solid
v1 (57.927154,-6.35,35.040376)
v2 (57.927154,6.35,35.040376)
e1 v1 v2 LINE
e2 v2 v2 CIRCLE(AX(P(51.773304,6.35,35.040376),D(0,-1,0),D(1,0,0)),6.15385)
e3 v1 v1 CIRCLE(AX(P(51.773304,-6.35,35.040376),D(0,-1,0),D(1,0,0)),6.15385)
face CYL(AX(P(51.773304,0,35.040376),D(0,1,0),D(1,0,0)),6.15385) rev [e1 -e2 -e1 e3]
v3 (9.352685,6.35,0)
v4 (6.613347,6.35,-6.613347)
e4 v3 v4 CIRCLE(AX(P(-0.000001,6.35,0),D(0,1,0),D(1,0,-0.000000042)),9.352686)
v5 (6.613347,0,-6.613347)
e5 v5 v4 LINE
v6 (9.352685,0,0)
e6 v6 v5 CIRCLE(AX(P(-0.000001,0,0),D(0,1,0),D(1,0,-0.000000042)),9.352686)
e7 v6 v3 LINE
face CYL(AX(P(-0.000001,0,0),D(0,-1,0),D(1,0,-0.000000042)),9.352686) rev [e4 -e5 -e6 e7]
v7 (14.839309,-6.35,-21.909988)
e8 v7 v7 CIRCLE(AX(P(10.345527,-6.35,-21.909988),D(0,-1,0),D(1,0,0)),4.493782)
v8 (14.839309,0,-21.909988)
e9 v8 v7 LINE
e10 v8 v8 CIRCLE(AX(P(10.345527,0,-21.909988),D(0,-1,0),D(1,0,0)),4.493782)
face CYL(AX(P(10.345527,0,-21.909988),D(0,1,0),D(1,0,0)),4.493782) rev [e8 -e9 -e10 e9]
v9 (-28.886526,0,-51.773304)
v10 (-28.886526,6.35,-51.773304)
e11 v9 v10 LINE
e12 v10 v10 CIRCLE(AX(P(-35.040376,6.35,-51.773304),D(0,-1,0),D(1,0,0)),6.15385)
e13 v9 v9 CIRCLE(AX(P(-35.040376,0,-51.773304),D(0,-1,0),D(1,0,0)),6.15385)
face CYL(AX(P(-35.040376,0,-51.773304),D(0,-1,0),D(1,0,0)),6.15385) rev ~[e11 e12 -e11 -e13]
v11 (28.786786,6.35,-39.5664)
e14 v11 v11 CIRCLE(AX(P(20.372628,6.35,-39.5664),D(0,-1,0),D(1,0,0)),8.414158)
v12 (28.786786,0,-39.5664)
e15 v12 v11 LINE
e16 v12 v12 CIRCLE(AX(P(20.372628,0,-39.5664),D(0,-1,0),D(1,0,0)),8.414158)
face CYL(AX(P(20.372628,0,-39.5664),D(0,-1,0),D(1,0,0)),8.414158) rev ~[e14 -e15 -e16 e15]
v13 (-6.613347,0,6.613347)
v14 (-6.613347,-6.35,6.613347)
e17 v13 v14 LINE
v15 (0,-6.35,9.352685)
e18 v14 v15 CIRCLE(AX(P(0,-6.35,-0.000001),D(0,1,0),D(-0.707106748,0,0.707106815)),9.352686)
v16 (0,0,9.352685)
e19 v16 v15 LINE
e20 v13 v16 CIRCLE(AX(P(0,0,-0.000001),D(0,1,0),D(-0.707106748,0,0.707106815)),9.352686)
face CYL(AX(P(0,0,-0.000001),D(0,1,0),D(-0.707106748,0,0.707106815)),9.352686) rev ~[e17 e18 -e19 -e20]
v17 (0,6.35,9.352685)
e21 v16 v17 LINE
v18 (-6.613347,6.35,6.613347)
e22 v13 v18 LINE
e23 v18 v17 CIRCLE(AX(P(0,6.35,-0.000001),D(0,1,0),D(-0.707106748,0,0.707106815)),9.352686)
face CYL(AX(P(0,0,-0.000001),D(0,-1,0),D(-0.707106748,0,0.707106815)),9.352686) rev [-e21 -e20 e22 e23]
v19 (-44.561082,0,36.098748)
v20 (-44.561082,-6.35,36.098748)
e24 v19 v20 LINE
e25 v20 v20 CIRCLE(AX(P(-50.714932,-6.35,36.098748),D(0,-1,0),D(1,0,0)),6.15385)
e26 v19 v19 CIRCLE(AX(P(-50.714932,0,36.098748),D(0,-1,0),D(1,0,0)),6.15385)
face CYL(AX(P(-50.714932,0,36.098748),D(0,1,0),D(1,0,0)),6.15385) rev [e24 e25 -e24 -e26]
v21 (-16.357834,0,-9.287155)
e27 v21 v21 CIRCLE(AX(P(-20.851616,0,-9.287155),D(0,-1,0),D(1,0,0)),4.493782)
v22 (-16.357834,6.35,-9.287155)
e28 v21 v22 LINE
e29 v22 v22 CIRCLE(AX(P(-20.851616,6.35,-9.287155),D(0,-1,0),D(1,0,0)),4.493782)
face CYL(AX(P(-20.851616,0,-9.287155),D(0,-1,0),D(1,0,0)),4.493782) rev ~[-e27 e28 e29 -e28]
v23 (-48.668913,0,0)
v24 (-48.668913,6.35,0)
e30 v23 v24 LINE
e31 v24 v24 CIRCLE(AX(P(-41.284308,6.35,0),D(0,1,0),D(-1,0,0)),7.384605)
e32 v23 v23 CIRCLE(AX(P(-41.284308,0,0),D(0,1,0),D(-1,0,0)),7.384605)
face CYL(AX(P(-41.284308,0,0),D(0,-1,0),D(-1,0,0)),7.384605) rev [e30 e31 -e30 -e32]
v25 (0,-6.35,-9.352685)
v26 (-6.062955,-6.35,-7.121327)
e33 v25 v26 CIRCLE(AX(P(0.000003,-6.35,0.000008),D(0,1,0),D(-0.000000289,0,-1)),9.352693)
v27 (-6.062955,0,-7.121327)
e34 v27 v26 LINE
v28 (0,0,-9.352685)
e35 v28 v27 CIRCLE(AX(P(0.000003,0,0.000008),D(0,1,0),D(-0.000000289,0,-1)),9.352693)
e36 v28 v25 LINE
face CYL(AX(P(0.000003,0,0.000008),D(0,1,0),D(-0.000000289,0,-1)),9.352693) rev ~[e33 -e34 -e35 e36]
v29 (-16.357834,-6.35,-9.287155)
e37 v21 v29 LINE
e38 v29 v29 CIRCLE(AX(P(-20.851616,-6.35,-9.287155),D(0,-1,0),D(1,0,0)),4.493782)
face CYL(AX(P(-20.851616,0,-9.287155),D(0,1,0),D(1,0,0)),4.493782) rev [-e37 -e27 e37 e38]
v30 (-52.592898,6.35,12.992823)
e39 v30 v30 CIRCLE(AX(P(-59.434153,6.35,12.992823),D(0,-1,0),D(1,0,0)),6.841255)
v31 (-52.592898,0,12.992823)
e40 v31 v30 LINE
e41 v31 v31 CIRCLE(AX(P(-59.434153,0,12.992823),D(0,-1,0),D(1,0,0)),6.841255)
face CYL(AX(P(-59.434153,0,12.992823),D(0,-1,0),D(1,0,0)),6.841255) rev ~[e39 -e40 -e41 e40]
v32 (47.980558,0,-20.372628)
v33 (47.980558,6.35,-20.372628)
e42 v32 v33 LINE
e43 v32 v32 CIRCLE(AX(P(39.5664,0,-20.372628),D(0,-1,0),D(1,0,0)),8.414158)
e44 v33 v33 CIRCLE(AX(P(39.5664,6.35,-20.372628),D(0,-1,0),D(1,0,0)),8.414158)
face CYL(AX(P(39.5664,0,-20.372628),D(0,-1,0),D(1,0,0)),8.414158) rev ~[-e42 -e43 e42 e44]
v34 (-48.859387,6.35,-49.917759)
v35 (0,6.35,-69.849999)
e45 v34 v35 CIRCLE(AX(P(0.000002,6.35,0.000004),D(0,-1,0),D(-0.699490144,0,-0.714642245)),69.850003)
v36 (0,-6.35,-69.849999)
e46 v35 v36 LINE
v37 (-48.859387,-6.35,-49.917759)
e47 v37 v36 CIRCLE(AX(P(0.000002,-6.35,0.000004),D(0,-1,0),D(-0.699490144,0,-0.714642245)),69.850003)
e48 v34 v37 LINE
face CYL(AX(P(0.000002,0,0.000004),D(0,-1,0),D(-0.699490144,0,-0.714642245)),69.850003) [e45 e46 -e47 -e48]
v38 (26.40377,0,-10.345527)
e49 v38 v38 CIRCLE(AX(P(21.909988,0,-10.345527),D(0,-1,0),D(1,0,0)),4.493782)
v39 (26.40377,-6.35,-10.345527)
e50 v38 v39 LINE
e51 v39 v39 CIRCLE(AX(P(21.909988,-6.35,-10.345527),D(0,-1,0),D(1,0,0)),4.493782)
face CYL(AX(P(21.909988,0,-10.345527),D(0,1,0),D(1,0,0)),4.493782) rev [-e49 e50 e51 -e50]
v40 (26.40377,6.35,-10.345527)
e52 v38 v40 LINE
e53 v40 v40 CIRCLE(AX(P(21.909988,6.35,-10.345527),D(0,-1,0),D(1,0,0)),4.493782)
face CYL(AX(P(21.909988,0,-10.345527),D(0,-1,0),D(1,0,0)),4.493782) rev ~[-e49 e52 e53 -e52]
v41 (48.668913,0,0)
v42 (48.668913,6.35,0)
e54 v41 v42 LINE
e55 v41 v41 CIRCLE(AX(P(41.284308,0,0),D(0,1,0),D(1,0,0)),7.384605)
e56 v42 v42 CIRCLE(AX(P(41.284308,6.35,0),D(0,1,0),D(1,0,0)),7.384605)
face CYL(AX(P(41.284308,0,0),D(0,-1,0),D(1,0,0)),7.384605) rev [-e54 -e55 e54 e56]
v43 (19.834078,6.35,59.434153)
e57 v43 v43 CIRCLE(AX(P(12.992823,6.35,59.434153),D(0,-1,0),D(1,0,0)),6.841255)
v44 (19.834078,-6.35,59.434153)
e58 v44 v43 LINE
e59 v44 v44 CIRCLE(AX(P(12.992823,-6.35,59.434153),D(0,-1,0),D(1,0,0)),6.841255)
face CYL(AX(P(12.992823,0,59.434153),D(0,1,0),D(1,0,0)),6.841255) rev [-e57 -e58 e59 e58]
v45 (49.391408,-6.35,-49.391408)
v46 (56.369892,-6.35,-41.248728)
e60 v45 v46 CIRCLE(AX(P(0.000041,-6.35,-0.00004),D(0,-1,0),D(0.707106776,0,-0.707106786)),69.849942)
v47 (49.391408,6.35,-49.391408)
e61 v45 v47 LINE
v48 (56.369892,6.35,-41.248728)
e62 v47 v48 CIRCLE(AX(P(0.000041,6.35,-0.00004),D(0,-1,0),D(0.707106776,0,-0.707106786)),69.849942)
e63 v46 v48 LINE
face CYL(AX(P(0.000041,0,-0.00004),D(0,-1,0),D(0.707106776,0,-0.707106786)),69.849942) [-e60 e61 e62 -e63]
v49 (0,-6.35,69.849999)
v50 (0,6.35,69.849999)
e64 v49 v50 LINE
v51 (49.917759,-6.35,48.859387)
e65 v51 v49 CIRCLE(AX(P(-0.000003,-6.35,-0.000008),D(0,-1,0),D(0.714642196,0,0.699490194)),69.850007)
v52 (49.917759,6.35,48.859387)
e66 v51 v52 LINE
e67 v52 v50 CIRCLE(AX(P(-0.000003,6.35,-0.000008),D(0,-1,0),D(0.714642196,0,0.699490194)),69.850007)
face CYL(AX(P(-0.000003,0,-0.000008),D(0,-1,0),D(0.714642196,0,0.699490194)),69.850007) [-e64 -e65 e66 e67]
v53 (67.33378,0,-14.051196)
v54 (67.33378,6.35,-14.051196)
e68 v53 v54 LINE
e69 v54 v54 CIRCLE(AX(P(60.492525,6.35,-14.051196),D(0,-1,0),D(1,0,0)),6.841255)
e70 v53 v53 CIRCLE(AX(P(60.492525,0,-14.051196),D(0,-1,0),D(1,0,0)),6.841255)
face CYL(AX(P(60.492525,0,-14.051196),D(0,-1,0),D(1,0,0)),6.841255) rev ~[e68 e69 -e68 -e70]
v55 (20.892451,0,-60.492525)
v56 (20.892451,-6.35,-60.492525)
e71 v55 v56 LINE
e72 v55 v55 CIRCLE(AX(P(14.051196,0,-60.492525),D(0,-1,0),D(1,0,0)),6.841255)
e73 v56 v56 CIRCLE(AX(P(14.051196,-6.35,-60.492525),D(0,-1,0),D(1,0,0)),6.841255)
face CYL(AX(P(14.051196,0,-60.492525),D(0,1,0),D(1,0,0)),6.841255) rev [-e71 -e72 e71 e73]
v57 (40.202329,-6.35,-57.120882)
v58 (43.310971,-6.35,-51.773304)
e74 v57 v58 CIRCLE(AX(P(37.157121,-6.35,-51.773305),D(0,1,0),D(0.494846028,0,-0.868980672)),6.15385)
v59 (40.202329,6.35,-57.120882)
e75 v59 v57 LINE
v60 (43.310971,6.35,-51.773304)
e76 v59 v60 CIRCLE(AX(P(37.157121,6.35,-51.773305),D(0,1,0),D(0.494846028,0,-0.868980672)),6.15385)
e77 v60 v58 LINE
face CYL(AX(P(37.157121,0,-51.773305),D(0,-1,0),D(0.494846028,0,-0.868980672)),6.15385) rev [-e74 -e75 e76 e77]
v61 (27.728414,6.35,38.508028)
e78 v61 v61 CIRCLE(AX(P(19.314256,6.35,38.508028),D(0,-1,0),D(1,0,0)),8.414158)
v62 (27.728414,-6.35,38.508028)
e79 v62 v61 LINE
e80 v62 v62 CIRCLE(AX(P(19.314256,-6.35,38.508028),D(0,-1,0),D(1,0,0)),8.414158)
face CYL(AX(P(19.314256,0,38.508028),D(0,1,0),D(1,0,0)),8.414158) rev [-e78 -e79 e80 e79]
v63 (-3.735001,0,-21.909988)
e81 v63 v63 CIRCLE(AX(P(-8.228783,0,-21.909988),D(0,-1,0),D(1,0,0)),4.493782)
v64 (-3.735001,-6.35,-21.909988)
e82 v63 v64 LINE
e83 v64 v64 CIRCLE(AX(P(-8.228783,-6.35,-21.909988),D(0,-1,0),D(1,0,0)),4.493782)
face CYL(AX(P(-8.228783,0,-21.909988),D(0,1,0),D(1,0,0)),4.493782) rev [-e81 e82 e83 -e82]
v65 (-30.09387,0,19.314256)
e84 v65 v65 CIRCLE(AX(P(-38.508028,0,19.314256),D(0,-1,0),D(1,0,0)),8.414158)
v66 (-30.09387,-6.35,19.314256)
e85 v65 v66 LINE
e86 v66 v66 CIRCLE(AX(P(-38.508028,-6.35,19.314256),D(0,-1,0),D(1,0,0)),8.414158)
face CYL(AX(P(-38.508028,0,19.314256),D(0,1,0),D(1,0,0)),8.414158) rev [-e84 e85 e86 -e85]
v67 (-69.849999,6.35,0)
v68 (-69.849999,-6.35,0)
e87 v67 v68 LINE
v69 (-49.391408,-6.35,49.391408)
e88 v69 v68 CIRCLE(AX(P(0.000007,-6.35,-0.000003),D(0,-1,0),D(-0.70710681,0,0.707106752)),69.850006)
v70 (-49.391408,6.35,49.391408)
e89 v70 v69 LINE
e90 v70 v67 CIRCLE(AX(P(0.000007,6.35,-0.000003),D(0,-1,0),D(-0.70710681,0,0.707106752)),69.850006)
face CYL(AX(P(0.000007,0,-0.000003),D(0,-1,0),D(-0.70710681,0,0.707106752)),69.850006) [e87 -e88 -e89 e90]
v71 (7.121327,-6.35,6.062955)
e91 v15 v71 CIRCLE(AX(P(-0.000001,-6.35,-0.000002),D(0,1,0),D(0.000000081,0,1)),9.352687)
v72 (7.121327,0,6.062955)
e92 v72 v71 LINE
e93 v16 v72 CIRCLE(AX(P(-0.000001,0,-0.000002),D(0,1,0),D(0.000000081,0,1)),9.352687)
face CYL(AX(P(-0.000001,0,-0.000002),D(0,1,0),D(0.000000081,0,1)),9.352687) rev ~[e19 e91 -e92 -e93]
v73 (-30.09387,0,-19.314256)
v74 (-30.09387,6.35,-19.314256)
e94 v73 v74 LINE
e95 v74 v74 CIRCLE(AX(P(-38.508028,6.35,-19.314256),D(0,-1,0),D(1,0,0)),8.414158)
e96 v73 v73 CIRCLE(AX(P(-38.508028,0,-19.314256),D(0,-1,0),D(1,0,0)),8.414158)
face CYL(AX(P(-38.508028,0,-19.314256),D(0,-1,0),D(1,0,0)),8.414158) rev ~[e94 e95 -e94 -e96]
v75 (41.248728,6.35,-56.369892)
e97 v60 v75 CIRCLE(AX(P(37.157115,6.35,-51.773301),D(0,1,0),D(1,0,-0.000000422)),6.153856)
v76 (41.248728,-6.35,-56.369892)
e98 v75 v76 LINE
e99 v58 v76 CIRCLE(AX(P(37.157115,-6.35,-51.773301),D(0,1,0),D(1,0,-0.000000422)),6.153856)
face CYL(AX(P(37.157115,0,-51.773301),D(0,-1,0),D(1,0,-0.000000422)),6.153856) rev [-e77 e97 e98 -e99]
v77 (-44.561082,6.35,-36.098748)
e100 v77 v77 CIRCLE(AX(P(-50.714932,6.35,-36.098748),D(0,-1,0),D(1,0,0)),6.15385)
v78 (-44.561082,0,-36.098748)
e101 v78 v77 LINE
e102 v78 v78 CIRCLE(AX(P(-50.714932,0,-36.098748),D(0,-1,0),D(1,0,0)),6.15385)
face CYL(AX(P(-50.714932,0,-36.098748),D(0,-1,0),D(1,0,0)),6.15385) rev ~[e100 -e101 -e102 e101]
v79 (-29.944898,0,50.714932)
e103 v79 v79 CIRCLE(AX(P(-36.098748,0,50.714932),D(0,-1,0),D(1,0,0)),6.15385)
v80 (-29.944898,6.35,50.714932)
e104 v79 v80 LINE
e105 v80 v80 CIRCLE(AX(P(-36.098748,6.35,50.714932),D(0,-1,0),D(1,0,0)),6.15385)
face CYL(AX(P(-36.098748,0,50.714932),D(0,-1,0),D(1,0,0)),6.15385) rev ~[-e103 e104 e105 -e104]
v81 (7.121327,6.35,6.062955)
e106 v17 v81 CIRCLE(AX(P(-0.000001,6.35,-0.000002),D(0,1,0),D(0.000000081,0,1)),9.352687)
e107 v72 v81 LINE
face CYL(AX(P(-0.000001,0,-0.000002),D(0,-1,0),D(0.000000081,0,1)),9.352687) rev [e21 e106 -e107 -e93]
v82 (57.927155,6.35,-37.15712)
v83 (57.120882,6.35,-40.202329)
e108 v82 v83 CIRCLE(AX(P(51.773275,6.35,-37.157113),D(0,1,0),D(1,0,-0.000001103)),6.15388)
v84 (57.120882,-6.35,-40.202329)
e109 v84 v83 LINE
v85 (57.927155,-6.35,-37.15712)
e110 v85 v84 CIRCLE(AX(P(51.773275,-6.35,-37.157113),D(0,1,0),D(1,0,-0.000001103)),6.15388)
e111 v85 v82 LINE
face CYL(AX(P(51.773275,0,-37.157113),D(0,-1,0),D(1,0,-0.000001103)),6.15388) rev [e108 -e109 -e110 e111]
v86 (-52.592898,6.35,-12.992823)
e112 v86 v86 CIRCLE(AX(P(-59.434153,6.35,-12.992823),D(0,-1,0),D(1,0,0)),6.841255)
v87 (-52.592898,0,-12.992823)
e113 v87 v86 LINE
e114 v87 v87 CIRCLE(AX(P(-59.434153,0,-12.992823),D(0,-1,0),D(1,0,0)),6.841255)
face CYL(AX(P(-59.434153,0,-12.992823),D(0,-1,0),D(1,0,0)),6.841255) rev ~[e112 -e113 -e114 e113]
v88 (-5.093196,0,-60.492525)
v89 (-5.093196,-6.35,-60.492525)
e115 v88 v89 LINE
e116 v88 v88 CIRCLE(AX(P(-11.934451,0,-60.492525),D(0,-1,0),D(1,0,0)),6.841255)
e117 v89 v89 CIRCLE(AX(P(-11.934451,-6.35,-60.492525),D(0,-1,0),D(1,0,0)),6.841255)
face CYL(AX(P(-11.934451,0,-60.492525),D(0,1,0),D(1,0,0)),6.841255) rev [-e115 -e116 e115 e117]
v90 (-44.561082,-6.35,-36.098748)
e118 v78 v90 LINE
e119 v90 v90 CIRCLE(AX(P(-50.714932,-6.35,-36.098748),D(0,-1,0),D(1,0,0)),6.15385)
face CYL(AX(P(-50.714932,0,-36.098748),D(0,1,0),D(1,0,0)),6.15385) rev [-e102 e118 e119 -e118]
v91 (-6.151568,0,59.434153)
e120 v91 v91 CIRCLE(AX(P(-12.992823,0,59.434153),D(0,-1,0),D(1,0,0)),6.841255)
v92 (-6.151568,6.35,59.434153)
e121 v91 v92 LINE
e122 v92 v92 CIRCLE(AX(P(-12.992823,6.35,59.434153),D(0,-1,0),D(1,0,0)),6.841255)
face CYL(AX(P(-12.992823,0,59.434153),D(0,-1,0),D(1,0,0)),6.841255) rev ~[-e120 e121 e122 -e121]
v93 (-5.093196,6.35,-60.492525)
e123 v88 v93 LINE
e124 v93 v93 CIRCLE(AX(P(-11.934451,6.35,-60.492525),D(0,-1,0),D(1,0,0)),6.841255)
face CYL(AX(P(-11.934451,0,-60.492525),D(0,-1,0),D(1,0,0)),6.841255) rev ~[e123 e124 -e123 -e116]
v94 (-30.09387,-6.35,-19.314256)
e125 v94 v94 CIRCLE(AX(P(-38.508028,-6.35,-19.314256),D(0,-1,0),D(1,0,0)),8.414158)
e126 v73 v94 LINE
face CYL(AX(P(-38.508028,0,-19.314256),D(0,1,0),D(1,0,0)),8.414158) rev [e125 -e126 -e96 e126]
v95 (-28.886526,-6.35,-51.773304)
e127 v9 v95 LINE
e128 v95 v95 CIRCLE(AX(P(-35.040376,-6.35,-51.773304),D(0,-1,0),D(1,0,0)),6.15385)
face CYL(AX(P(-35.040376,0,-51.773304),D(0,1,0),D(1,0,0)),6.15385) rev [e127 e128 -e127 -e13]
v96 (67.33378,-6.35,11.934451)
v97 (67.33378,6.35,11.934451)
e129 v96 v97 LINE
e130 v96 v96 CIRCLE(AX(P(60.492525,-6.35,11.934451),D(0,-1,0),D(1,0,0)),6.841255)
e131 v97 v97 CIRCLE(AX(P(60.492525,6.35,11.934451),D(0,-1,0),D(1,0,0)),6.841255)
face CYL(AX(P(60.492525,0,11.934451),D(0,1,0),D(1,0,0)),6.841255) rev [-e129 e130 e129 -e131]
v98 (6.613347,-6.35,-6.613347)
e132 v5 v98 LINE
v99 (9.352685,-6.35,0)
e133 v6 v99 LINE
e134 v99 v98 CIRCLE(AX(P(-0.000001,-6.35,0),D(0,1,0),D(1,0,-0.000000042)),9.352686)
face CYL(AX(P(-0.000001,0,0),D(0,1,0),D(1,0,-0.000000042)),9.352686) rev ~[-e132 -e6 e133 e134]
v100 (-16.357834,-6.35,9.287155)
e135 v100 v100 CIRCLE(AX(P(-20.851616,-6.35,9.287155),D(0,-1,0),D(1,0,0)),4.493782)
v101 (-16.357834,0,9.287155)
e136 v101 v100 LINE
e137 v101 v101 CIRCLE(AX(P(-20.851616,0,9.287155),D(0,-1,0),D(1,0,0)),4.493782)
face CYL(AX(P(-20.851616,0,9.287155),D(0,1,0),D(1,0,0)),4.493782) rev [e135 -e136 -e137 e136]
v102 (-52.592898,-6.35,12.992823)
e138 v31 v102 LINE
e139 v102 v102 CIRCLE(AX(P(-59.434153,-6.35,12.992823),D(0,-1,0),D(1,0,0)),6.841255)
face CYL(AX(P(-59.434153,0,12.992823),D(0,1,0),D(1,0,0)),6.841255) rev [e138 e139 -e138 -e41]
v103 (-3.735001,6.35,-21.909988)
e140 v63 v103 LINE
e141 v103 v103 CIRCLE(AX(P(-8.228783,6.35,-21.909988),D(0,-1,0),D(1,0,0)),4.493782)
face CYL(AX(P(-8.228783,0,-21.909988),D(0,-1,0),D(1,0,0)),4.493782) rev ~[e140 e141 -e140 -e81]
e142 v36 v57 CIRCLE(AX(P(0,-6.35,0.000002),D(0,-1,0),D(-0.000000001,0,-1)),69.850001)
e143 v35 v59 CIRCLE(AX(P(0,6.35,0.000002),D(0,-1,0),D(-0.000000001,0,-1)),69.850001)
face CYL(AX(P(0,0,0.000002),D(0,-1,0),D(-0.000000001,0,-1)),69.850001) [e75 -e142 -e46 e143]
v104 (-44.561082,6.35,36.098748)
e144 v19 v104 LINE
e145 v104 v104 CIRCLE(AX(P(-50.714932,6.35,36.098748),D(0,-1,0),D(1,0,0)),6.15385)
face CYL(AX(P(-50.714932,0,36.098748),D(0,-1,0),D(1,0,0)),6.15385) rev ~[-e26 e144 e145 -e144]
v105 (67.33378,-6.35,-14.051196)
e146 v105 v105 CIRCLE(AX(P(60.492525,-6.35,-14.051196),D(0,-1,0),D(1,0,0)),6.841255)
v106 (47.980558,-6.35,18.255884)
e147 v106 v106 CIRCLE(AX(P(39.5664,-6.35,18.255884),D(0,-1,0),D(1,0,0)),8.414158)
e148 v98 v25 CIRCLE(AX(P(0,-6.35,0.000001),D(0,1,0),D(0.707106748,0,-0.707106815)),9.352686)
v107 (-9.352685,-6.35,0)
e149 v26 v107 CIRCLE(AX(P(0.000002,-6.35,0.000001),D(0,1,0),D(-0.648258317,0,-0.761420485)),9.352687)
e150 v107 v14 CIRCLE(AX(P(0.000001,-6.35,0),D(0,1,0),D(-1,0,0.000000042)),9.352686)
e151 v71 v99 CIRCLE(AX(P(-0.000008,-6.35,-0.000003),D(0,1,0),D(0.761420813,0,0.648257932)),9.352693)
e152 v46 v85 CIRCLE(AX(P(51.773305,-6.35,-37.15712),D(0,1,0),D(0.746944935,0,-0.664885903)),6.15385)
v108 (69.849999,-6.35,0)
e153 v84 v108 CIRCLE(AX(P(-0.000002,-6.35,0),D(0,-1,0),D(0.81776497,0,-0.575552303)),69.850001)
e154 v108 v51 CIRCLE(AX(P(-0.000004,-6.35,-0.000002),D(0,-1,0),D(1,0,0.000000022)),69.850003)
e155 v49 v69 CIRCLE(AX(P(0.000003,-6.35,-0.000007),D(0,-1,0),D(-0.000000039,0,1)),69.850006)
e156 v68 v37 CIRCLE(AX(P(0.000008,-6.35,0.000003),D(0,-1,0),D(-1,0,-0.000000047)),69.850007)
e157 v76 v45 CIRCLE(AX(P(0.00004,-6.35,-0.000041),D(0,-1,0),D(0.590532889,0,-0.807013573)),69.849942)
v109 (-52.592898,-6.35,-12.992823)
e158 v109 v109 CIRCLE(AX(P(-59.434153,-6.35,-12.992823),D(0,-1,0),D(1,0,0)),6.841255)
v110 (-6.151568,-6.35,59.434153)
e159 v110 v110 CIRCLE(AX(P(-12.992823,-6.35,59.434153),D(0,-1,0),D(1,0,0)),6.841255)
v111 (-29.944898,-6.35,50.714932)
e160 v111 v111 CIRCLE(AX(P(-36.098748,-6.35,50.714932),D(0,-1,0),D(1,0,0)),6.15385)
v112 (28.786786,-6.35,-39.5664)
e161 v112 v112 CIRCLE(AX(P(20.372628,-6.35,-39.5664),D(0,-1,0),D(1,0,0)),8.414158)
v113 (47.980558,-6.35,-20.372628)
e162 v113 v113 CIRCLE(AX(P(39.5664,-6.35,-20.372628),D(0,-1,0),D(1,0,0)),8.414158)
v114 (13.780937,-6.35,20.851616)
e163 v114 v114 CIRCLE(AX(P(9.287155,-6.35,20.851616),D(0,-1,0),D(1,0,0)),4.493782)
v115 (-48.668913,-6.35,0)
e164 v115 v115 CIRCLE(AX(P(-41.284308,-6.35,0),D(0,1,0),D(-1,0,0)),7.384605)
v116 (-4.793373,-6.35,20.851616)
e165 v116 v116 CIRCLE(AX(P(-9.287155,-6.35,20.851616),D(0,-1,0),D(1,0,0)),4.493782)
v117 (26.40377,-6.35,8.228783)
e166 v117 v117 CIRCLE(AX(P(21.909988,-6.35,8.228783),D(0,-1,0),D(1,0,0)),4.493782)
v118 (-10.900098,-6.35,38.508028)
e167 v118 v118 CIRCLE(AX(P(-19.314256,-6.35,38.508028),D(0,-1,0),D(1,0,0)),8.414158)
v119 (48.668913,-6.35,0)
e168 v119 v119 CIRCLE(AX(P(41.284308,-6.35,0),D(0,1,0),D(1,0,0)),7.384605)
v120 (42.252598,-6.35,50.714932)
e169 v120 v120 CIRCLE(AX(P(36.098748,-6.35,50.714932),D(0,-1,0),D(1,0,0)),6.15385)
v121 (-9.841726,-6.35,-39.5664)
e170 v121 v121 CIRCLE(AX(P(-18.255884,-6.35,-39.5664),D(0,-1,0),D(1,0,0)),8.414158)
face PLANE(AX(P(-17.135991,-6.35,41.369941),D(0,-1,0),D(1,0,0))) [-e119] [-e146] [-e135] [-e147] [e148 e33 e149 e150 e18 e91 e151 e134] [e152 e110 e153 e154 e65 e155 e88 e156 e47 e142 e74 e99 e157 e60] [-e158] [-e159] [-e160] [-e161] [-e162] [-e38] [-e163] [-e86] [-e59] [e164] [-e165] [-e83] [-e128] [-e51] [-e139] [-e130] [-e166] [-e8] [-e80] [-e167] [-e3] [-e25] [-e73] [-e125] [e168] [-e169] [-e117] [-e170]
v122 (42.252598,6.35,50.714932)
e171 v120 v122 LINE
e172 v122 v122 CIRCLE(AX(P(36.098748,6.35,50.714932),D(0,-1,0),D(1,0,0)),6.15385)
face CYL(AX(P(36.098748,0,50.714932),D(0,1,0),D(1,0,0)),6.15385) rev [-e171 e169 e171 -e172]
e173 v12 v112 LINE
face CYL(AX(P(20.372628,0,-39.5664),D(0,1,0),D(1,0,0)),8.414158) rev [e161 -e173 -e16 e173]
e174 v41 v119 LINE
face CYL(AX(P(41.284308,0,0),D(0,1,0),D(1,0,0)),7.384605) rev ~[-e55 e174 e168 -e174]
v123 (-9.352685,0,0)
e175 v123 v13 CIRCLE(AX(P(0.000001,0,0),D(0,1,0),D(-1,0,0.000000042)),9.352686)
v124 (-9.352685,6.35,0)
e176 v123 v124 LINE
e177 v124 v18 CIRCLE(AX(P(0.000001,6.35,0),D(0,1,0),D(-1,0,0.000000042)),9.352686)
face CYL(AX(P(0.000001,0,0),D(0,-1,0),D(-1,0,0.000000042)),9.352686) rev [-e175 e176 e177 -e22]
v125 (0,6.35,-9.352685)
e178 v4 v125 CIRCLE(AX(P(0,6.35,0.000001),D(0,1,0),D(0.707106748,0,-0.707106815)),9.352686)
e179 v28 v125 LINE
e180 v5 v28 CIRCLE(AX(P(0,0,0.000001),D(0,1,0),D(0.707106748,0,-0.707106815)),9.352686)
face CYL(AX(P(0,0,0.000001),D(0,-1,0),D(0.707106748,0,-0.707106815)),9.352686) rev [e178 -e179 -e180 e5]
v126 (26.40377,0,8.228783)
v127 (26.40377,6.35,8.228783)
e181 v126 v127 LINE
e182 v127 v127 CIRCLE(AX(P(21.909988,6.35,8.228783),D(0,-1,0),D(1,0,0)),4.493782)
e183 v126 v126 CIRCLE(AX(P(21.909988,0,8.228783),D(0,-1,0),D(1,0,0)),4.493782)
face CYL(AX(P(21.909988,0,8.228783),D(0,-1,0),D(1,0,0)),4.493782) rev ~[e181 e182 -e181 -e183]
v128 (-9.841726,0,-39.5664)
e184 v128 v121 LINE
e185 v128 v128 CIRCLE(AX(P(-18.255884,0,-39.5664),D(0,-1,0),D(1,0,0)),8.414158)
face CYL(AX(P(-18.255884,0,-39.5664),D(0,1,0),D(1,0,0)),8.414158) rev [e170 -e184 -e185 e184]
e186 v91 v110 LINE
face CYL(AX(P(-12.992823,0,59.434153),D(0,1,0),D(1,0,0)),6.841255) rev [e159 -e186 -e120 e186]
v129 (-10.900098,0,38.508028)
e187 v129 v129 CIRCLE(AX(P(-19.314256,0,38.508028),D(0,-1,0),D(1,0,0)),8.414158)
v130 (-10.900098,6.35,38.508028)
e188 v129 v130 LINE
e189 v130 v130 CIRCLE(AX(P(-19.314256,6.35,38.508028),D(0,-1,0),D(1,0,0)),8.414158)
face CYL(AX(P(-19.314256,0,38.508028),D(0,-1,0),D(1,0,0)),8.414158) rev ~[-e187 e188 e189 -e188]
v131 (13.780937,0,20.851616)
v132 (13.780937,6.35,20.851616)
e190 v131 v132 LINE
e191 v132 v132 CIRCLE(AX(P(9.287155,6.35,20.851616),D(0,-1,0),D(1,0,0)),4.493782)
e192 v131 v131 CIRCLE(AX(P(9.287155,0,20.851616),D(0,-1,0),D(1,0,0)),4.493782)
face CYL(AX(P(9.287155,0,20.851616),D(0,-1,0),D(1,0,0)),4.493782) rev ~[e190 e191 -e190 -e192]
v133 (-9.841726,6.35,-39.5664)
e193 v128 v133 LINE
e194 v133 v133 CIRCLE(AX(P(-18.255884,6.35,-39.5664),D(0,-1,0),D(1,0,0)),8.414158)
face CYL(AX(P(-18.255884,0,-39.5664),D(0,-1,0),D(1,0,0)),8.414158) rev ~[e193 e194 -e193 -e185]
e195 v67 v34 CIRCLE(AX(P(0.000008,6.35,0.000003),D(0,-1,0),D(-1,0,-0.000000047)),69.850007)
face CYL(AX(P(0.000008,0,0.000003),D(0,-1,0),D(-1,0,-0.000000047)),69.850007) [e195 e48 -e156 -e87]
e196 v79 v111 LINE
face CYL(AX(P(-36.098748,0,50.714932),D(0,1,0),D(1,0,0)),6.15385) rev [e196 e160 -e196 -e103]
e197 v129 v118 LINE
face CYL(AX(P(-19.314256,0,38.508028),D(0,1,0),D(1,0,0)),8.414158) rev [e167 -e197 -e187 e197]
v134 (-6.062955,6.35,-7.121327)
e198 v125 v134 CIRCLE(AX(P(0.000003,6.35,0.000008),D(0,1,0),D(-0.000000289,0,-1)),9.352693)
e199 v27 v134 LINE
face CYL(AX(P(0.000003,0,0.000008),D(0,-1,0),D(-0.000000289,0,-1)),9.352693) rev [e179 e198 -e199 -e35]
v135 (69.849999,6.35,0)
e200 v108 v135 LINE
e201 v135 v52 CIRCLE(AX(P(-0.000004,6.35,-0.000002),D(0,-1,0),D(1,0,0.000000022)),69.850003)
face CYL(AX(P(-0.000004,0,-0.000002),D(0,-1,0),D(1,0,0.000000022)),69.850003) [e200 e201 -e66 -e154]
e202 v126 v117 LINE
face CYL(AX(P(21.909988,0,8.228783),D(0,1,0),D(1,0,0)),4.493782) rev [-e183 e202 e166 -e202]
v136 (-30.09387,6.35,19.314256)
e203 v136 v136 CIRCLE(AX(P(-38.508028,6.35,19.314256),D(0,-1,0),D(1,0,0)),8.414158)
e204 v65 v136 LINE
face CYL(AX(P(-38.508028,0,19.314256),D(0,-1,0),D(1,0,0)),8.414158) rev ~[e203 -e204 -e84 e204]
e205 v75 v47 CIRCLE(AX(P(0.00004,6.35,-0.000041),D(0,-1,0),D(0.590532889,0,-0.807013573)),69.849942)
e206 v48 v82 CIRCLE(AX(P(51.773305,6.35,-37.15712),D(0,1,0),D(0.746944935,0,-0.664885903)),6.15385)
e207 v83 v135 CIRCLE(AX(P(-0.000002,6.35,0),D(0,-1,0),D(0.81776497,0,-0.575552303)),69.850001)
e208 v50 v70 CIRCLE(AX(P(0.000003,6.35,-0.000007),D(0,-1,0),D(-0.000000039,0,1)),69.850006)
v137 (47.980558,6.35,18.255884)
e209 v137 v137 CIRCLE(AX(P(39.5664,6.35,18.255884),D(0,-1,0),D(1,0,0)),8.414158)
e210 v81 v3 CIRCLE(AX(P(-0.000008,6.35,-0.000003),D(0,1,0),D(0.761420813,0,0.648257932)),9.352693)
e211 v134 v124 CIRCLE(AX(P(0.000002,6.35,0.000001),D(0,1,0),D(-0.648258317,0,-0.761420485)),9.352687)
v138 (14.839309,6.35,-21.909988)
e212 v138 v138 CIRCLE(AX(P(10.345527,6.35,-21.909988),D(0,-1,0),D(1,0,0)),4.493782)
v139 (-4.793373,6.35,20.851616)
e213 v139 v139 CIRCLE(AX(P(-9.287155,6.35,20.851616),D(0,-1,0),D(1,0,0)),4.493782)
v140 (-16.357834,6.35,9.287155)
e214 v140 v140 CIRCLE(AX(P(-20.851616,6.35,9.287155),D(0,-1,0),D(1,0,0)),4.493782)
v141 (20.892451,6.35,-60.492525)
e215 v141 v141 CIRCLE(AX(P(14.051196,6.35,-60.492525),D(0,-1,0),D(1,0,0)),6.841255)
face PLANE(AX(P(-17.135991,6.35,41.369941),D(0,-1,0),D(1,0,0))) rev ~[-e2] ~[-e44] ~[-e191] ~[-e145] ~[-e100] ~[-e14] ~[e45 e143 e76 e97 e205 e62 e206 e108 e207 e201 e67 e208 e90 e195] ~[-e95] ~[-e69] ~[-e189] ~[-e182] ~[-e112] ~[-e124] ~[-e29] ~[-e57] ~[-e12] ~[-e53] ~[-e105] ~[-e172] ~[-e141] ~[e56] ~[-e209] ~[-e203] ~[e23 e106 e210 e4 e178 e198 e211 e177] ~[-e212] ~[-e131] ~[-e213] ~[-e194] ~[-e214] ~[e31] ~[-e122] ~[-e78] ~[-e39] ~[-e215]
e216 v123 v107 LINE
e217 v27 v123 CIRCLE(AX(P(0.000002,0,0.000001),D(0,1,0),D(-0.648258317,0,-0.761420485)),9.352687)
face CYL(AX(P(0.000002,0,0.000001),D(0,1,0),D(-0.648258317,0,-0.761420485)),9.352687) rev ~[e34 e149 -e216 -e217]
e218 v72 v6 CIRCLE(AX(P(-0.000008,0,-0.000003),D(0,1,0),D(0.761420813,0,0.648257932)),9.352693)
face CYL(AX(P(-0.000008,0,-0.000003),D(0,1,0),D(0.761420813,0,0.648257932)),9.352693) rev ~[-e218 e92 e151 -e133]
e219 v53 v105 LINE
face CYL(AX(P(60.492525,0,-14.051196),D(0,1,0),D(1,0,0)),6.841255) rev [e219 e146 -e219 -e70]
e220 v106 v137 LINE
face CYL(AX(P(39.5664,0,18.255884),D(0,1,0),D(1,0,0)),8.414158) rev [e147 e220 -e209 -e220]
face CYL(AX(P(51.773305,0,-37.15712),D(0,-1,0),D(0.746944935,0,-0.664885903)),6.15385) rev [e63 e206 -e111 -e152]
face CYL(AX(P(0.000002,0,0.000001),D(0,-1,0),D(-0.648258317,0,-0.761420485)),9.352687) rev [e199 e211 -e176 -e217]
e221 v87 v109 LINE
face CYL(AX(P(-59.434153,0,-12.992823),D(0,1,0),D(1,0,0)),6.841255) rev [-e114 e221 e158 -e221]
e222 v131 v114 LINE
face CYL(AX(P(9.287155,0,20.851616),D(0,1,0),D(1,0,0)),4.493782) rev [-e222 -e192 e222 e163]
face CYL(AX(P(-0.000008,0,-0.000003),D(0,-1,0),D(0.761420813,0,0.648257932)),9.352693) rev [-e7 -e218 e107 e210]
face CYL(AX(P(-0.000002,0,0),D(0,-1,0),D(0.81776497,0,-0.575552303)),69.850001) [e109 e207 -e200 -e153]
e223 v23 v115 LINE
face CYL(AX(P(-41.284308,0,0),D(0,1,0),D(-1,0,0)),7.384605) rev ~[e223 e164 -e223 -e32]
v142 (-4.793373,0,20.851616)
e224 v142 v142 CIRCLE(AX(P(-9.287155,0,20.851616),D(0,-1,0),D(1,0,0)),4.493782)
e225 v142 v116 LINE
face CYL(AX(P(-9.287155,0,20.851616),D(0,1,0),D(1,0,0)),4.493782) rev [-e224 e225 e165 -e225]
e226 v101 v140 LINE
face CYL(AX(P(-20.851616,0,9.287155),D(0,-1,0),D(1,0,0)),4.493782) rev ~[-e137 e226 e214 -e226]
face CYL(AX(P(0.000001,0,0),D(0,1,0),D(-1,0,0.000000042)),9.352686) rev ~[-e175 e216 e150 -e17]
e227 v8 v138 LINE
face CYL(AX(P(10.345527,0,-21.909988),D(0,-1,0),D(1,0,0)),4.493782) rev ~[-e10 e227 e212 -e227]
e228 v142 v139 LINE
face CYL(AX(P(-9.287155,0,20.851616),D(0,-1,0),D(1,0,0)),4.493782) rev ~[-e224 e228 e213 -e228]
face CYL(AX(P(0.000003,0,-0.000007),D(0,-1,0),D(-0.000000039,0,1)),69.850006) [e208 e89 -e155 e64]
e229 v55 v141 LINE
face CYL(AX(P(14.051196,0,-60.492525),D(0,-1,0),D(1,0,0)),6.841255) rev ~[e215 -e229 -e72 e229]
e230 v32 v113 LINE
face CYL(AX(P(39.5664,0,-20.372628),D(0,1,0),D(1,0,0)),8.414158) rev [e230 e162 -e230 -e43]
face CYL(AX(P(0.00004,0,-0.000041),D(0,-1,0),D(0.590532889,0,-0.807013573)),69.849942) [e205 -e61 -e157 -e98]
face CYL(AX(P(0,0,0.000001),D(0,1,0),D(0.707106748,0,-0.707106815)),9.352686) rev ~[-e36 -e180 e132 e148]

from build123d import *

# Parameters (mm, degrees)
F0_R     = 4.493782
F0_R_2   = 8.414158
F0_R_3   = 6.15385
F0_R_4   = 6.841255
F1_DEPTH = 6.35


with BuildPart() as f1:
    # F0 (on Front) → F1 (new body, symmetric)
    with BuildSketch(Plane.XZ):
        with BuildLine():
            Line((0, 9.352685), (0, 69.849999))
            ThreePointArc((0, 69.849999), (-26.730437, 64.532984), (-49.391408, 49.391408))
            Line((-49.391408, 49.391408), (-6.613347, 6.613347))
            ThreePointArc((-6.613347, 6.613347), (-3.579118, 8.640754), (0, 9.352685))
        make_face()
        with Locations((-9.287155, 20.851616)):
            Circle(F0_R, mode=Mode.SUBTRACT)
        with Locations((-19.314256, 38.508028)):
            Circle(F0_R_2, mode=Mode.SUBTRACT)
        with Locations((-36.098748, 50.714932)):
            Circle(F0_R_3, mode=Mode.SUBTRACT)
        with Locations((-12.992823, 59.434153)):
            Circle(F0_R_4, mode=Mode.SUBTRACT)
        with BuildLine():
            Line((7.121327, 6.062955), (49.917759, 48.859387))
            ThreePointArc((49.917759, 48.859387), (27.075766, 64.388859), (0, 69.849999))
            Line((0, 69.849999), (0, 9.352685))
            ThreePointArc((0, 9.352685), (3.922232, 8.490513), (7.121327, 6.062955))
        make_face()
        with Locations((9.287155, 20.851616)):
            Circle(F0_R, mode=Mode.SUBTRACT)
        with Locations((19.314256, 38.508028)):
            Circle(F0_R_2, mode=Mode.SUBTRACT)
        with Locations((36.098748, 50.714932)):
            Circle(F0_R_3, mode=Mode.SUBTRACT)
        with Locations((12.992823, 59.434153)):
            Circle(F0_R_4, mode=Mode.SUBTRACT)
        with BuildLine():
            Line((48.668913, 0), (69.849999, 0))
            ThreePointArc((69.849999, 0), (64.675257, 26.384341), (49.917759, 48.859387))
            Line((49.917759, 48.859387), (7.121327, 6.062955))
            ThreePointArc((7.121327, 6.062955), (8.777136, 3.230262), (9.352685, 0))
            Line((9.352685, 0), (33.899703, 0))
            ThreePointArc((33.899703, 0), (41.284308, 7.384605), (48.668913, 0))
        make_face()
        with Locations((21.909988, 8.228783)):
            Circle(F0_R, mode=Mode.SUBTRACT)
        with Locations((39.5664, 18.255884)):
            Circle(F0_R_2, mode=Mode.SUBTRACT)
        with Locations((60.492525, 11.934451)):
            Circle(F0_R_4, mode=Mode.SUBTRACT)
        with Locations((51.773304, 35.040376)):
            Circle(F0_R_3, mode=Mode.SUBTRACT)
        with BuildLine():
            ThreePointArc((57.120882, -40.202329), (66.591726, -21.084696), (69.849999, 0))
            Line((69.849999, 0), (48.668913, 0))
            ThreePointArc((48.668913, 0), (41.284308, -7.384605), (33.899703, 0))
            Line((33.899703, 0), (9.352685, 0))
            ThreePointArc((9.352685, 0), (8.640754, -3.579118), (6.613347, -6.613347))
            Line((6.613347, -6.613347), (49.391408, -49.391408))
            ThreePointArc((49.391408, -49.391408), (53.037147, -45.45419), (56.369892, -41.248728))
            ThreePointArc((56.369892, -41.248728), (46.021931, -34.968153), (57.927155, -37.15712))
            ThreePointArc((57.927155, -37.15712), (57.722172, -38.732189), (57.120882, -40.202329))
        make_face()
        with Locations((21.909988, -10.345527)):
            Circle(F0_R, mode=Mode.SUBTRACT)
        with Locations((39.5664, -20.372628)):
            Circle(F0_R_2, mode=Mode.SUBTRACT)
        with Locations((60.492525, -14.051196)):
            Circle(F0_R_4, mode=Mode.SUBTRACT)
        with BuildLine():
            ThreePointArc((41.248728, -56.369892), (45.45419, -53.037147), (49.391408, -49.391408))
            Line((49.391408, -49.391408), (6.613347, -6.613347))
            ThreePointArc((6.613347, -6.613347), (3.579118, -8.640754), (0, -9.352685))
            Line((0, -9.352685), (0, -69.849999))
            ThreePointArc((0, -69.849999), (21.084696, -66.591726), (40.202329, -57.120882))
            ThreePointArc((40.202329, -57.120882), (31.836894, -48.680561), (43.310971, -51.773304))
            ThreePointArc((43.310971, -51.773304), (42.771789, -54.292305), (41.248728, -56.369892))
        make_face()
        with Locations((14.051196, -60.492525)):
            Circle(F0_R_4, mode=Mode.SUBTRACT)
        with Locations((20.372628, -39.5664)):
            Circle(F0_R_2, mode=Mode.SUBTRACT)
        with Locations((10.345527, -21.909988)):
            Circle(F0_R, mode=Mode.SUBTRACT)
        with BuildLine():
            ThreePointArc((-48.859387, -49.917759), (-26.384341, -64.675257), (0, -69.849999))
            Line((0, -69.849999), (0, -9.352685))
            ThreePointArc((0, -9.352685), (-3.230262, -8.777136), (-6.062955, -7.121327))
            Line((-6.062955, -7.121327), (-48.859387, -49.917759))
        make_face()
        with Locations((-11.934451, -60.492525)):
            Circle(F0_R_4, mode=Mode.SUBTRACT)
        with Locations((-35.040376, -51.773304)):
            Circle(F0_R_3, mode=Mode.SUBTRACT)
        with Locations((-18.255884, -39.5664)):
            Circle(F0_R_2, mode=Mode.SUBTRACT)
        with Locations((-8.228783, -21.909988)):
            Circle(F0_R, mode=Mode.SUBTRACT)
        with BuildLine():
            ThreePointArc((-69.849999, 0), (-64.388859, -27.075766), (-48.859387, -49.917759))
            Line((-48.859387, -49.917759), (-6.062955, -7.121327))
            ThreePointArc((-6.062955, -7.121327), (-8.490513, -3.922232), (-9.352685, 0))
            Line((-9.352685, 0), (-33.899703, 0))
            ThreePointArc((-33.899703, 0), (-41.284308, -7.384605), (-48.668913, 0))
            Line((-48.668913, 0), (-69.849999, 0))
        make_face()
        with Locations((-50.714932, -36.098748)):
            Circle(F0_R_3, mode=Mode.SUBTRACT)
        with Locations((-38.508028, -19.314256)):
            Circle(F0_R_2, mode=Mode.SUBTRACT)
        with Locations((-59.434153, -12.992823)):
            Circle(F0_R_4, mode=Mode.SUBTRACT)
        with Locations((-20.851616, -9.287155)):
            Circle(F0_R, mode=Mode.SUBTRACT)
        with BuildLine():
            Line((-6.613347, 6.613347), (-49.391408, 49.391408))
            ThreePointArc((-49.391408, 49.391408), (-64.532984, 26.730437), (-69.849999, 0))
            Line((-69.849999, 0), (-48.668913, 0))
            ThreePointArc((-48.668913, 0), (-41.284308, 7.384605), (-33.899703, 0))
            Line((-33.899703, 0), (-9.352685, 0))
            ThreePointArc((-9.352685, 0), (-8.640754, 3.579118), (-6.613347, 6.613347))
        make_face()
        with Locations((-59.434153, 12.992823)):
            Circle(F0_R_4, mode=Mode.SUBTRACT)
        with Locations((-38.508028, 19.314256)):
            Circle(F0_R_2, mode=Mode.SUBTRACT)
        with Locations((-50.714932, 36.098748)):
            Circle(F0_R_3, mode=Mode.SUBTRACT)
        with Locations((-20.851616, 9.287155)):
            Circle(F0_R, mode=Mode.SUBTRACT)
    extrude(amount=F1_DEPTH, both=True)


solid = f1.part
